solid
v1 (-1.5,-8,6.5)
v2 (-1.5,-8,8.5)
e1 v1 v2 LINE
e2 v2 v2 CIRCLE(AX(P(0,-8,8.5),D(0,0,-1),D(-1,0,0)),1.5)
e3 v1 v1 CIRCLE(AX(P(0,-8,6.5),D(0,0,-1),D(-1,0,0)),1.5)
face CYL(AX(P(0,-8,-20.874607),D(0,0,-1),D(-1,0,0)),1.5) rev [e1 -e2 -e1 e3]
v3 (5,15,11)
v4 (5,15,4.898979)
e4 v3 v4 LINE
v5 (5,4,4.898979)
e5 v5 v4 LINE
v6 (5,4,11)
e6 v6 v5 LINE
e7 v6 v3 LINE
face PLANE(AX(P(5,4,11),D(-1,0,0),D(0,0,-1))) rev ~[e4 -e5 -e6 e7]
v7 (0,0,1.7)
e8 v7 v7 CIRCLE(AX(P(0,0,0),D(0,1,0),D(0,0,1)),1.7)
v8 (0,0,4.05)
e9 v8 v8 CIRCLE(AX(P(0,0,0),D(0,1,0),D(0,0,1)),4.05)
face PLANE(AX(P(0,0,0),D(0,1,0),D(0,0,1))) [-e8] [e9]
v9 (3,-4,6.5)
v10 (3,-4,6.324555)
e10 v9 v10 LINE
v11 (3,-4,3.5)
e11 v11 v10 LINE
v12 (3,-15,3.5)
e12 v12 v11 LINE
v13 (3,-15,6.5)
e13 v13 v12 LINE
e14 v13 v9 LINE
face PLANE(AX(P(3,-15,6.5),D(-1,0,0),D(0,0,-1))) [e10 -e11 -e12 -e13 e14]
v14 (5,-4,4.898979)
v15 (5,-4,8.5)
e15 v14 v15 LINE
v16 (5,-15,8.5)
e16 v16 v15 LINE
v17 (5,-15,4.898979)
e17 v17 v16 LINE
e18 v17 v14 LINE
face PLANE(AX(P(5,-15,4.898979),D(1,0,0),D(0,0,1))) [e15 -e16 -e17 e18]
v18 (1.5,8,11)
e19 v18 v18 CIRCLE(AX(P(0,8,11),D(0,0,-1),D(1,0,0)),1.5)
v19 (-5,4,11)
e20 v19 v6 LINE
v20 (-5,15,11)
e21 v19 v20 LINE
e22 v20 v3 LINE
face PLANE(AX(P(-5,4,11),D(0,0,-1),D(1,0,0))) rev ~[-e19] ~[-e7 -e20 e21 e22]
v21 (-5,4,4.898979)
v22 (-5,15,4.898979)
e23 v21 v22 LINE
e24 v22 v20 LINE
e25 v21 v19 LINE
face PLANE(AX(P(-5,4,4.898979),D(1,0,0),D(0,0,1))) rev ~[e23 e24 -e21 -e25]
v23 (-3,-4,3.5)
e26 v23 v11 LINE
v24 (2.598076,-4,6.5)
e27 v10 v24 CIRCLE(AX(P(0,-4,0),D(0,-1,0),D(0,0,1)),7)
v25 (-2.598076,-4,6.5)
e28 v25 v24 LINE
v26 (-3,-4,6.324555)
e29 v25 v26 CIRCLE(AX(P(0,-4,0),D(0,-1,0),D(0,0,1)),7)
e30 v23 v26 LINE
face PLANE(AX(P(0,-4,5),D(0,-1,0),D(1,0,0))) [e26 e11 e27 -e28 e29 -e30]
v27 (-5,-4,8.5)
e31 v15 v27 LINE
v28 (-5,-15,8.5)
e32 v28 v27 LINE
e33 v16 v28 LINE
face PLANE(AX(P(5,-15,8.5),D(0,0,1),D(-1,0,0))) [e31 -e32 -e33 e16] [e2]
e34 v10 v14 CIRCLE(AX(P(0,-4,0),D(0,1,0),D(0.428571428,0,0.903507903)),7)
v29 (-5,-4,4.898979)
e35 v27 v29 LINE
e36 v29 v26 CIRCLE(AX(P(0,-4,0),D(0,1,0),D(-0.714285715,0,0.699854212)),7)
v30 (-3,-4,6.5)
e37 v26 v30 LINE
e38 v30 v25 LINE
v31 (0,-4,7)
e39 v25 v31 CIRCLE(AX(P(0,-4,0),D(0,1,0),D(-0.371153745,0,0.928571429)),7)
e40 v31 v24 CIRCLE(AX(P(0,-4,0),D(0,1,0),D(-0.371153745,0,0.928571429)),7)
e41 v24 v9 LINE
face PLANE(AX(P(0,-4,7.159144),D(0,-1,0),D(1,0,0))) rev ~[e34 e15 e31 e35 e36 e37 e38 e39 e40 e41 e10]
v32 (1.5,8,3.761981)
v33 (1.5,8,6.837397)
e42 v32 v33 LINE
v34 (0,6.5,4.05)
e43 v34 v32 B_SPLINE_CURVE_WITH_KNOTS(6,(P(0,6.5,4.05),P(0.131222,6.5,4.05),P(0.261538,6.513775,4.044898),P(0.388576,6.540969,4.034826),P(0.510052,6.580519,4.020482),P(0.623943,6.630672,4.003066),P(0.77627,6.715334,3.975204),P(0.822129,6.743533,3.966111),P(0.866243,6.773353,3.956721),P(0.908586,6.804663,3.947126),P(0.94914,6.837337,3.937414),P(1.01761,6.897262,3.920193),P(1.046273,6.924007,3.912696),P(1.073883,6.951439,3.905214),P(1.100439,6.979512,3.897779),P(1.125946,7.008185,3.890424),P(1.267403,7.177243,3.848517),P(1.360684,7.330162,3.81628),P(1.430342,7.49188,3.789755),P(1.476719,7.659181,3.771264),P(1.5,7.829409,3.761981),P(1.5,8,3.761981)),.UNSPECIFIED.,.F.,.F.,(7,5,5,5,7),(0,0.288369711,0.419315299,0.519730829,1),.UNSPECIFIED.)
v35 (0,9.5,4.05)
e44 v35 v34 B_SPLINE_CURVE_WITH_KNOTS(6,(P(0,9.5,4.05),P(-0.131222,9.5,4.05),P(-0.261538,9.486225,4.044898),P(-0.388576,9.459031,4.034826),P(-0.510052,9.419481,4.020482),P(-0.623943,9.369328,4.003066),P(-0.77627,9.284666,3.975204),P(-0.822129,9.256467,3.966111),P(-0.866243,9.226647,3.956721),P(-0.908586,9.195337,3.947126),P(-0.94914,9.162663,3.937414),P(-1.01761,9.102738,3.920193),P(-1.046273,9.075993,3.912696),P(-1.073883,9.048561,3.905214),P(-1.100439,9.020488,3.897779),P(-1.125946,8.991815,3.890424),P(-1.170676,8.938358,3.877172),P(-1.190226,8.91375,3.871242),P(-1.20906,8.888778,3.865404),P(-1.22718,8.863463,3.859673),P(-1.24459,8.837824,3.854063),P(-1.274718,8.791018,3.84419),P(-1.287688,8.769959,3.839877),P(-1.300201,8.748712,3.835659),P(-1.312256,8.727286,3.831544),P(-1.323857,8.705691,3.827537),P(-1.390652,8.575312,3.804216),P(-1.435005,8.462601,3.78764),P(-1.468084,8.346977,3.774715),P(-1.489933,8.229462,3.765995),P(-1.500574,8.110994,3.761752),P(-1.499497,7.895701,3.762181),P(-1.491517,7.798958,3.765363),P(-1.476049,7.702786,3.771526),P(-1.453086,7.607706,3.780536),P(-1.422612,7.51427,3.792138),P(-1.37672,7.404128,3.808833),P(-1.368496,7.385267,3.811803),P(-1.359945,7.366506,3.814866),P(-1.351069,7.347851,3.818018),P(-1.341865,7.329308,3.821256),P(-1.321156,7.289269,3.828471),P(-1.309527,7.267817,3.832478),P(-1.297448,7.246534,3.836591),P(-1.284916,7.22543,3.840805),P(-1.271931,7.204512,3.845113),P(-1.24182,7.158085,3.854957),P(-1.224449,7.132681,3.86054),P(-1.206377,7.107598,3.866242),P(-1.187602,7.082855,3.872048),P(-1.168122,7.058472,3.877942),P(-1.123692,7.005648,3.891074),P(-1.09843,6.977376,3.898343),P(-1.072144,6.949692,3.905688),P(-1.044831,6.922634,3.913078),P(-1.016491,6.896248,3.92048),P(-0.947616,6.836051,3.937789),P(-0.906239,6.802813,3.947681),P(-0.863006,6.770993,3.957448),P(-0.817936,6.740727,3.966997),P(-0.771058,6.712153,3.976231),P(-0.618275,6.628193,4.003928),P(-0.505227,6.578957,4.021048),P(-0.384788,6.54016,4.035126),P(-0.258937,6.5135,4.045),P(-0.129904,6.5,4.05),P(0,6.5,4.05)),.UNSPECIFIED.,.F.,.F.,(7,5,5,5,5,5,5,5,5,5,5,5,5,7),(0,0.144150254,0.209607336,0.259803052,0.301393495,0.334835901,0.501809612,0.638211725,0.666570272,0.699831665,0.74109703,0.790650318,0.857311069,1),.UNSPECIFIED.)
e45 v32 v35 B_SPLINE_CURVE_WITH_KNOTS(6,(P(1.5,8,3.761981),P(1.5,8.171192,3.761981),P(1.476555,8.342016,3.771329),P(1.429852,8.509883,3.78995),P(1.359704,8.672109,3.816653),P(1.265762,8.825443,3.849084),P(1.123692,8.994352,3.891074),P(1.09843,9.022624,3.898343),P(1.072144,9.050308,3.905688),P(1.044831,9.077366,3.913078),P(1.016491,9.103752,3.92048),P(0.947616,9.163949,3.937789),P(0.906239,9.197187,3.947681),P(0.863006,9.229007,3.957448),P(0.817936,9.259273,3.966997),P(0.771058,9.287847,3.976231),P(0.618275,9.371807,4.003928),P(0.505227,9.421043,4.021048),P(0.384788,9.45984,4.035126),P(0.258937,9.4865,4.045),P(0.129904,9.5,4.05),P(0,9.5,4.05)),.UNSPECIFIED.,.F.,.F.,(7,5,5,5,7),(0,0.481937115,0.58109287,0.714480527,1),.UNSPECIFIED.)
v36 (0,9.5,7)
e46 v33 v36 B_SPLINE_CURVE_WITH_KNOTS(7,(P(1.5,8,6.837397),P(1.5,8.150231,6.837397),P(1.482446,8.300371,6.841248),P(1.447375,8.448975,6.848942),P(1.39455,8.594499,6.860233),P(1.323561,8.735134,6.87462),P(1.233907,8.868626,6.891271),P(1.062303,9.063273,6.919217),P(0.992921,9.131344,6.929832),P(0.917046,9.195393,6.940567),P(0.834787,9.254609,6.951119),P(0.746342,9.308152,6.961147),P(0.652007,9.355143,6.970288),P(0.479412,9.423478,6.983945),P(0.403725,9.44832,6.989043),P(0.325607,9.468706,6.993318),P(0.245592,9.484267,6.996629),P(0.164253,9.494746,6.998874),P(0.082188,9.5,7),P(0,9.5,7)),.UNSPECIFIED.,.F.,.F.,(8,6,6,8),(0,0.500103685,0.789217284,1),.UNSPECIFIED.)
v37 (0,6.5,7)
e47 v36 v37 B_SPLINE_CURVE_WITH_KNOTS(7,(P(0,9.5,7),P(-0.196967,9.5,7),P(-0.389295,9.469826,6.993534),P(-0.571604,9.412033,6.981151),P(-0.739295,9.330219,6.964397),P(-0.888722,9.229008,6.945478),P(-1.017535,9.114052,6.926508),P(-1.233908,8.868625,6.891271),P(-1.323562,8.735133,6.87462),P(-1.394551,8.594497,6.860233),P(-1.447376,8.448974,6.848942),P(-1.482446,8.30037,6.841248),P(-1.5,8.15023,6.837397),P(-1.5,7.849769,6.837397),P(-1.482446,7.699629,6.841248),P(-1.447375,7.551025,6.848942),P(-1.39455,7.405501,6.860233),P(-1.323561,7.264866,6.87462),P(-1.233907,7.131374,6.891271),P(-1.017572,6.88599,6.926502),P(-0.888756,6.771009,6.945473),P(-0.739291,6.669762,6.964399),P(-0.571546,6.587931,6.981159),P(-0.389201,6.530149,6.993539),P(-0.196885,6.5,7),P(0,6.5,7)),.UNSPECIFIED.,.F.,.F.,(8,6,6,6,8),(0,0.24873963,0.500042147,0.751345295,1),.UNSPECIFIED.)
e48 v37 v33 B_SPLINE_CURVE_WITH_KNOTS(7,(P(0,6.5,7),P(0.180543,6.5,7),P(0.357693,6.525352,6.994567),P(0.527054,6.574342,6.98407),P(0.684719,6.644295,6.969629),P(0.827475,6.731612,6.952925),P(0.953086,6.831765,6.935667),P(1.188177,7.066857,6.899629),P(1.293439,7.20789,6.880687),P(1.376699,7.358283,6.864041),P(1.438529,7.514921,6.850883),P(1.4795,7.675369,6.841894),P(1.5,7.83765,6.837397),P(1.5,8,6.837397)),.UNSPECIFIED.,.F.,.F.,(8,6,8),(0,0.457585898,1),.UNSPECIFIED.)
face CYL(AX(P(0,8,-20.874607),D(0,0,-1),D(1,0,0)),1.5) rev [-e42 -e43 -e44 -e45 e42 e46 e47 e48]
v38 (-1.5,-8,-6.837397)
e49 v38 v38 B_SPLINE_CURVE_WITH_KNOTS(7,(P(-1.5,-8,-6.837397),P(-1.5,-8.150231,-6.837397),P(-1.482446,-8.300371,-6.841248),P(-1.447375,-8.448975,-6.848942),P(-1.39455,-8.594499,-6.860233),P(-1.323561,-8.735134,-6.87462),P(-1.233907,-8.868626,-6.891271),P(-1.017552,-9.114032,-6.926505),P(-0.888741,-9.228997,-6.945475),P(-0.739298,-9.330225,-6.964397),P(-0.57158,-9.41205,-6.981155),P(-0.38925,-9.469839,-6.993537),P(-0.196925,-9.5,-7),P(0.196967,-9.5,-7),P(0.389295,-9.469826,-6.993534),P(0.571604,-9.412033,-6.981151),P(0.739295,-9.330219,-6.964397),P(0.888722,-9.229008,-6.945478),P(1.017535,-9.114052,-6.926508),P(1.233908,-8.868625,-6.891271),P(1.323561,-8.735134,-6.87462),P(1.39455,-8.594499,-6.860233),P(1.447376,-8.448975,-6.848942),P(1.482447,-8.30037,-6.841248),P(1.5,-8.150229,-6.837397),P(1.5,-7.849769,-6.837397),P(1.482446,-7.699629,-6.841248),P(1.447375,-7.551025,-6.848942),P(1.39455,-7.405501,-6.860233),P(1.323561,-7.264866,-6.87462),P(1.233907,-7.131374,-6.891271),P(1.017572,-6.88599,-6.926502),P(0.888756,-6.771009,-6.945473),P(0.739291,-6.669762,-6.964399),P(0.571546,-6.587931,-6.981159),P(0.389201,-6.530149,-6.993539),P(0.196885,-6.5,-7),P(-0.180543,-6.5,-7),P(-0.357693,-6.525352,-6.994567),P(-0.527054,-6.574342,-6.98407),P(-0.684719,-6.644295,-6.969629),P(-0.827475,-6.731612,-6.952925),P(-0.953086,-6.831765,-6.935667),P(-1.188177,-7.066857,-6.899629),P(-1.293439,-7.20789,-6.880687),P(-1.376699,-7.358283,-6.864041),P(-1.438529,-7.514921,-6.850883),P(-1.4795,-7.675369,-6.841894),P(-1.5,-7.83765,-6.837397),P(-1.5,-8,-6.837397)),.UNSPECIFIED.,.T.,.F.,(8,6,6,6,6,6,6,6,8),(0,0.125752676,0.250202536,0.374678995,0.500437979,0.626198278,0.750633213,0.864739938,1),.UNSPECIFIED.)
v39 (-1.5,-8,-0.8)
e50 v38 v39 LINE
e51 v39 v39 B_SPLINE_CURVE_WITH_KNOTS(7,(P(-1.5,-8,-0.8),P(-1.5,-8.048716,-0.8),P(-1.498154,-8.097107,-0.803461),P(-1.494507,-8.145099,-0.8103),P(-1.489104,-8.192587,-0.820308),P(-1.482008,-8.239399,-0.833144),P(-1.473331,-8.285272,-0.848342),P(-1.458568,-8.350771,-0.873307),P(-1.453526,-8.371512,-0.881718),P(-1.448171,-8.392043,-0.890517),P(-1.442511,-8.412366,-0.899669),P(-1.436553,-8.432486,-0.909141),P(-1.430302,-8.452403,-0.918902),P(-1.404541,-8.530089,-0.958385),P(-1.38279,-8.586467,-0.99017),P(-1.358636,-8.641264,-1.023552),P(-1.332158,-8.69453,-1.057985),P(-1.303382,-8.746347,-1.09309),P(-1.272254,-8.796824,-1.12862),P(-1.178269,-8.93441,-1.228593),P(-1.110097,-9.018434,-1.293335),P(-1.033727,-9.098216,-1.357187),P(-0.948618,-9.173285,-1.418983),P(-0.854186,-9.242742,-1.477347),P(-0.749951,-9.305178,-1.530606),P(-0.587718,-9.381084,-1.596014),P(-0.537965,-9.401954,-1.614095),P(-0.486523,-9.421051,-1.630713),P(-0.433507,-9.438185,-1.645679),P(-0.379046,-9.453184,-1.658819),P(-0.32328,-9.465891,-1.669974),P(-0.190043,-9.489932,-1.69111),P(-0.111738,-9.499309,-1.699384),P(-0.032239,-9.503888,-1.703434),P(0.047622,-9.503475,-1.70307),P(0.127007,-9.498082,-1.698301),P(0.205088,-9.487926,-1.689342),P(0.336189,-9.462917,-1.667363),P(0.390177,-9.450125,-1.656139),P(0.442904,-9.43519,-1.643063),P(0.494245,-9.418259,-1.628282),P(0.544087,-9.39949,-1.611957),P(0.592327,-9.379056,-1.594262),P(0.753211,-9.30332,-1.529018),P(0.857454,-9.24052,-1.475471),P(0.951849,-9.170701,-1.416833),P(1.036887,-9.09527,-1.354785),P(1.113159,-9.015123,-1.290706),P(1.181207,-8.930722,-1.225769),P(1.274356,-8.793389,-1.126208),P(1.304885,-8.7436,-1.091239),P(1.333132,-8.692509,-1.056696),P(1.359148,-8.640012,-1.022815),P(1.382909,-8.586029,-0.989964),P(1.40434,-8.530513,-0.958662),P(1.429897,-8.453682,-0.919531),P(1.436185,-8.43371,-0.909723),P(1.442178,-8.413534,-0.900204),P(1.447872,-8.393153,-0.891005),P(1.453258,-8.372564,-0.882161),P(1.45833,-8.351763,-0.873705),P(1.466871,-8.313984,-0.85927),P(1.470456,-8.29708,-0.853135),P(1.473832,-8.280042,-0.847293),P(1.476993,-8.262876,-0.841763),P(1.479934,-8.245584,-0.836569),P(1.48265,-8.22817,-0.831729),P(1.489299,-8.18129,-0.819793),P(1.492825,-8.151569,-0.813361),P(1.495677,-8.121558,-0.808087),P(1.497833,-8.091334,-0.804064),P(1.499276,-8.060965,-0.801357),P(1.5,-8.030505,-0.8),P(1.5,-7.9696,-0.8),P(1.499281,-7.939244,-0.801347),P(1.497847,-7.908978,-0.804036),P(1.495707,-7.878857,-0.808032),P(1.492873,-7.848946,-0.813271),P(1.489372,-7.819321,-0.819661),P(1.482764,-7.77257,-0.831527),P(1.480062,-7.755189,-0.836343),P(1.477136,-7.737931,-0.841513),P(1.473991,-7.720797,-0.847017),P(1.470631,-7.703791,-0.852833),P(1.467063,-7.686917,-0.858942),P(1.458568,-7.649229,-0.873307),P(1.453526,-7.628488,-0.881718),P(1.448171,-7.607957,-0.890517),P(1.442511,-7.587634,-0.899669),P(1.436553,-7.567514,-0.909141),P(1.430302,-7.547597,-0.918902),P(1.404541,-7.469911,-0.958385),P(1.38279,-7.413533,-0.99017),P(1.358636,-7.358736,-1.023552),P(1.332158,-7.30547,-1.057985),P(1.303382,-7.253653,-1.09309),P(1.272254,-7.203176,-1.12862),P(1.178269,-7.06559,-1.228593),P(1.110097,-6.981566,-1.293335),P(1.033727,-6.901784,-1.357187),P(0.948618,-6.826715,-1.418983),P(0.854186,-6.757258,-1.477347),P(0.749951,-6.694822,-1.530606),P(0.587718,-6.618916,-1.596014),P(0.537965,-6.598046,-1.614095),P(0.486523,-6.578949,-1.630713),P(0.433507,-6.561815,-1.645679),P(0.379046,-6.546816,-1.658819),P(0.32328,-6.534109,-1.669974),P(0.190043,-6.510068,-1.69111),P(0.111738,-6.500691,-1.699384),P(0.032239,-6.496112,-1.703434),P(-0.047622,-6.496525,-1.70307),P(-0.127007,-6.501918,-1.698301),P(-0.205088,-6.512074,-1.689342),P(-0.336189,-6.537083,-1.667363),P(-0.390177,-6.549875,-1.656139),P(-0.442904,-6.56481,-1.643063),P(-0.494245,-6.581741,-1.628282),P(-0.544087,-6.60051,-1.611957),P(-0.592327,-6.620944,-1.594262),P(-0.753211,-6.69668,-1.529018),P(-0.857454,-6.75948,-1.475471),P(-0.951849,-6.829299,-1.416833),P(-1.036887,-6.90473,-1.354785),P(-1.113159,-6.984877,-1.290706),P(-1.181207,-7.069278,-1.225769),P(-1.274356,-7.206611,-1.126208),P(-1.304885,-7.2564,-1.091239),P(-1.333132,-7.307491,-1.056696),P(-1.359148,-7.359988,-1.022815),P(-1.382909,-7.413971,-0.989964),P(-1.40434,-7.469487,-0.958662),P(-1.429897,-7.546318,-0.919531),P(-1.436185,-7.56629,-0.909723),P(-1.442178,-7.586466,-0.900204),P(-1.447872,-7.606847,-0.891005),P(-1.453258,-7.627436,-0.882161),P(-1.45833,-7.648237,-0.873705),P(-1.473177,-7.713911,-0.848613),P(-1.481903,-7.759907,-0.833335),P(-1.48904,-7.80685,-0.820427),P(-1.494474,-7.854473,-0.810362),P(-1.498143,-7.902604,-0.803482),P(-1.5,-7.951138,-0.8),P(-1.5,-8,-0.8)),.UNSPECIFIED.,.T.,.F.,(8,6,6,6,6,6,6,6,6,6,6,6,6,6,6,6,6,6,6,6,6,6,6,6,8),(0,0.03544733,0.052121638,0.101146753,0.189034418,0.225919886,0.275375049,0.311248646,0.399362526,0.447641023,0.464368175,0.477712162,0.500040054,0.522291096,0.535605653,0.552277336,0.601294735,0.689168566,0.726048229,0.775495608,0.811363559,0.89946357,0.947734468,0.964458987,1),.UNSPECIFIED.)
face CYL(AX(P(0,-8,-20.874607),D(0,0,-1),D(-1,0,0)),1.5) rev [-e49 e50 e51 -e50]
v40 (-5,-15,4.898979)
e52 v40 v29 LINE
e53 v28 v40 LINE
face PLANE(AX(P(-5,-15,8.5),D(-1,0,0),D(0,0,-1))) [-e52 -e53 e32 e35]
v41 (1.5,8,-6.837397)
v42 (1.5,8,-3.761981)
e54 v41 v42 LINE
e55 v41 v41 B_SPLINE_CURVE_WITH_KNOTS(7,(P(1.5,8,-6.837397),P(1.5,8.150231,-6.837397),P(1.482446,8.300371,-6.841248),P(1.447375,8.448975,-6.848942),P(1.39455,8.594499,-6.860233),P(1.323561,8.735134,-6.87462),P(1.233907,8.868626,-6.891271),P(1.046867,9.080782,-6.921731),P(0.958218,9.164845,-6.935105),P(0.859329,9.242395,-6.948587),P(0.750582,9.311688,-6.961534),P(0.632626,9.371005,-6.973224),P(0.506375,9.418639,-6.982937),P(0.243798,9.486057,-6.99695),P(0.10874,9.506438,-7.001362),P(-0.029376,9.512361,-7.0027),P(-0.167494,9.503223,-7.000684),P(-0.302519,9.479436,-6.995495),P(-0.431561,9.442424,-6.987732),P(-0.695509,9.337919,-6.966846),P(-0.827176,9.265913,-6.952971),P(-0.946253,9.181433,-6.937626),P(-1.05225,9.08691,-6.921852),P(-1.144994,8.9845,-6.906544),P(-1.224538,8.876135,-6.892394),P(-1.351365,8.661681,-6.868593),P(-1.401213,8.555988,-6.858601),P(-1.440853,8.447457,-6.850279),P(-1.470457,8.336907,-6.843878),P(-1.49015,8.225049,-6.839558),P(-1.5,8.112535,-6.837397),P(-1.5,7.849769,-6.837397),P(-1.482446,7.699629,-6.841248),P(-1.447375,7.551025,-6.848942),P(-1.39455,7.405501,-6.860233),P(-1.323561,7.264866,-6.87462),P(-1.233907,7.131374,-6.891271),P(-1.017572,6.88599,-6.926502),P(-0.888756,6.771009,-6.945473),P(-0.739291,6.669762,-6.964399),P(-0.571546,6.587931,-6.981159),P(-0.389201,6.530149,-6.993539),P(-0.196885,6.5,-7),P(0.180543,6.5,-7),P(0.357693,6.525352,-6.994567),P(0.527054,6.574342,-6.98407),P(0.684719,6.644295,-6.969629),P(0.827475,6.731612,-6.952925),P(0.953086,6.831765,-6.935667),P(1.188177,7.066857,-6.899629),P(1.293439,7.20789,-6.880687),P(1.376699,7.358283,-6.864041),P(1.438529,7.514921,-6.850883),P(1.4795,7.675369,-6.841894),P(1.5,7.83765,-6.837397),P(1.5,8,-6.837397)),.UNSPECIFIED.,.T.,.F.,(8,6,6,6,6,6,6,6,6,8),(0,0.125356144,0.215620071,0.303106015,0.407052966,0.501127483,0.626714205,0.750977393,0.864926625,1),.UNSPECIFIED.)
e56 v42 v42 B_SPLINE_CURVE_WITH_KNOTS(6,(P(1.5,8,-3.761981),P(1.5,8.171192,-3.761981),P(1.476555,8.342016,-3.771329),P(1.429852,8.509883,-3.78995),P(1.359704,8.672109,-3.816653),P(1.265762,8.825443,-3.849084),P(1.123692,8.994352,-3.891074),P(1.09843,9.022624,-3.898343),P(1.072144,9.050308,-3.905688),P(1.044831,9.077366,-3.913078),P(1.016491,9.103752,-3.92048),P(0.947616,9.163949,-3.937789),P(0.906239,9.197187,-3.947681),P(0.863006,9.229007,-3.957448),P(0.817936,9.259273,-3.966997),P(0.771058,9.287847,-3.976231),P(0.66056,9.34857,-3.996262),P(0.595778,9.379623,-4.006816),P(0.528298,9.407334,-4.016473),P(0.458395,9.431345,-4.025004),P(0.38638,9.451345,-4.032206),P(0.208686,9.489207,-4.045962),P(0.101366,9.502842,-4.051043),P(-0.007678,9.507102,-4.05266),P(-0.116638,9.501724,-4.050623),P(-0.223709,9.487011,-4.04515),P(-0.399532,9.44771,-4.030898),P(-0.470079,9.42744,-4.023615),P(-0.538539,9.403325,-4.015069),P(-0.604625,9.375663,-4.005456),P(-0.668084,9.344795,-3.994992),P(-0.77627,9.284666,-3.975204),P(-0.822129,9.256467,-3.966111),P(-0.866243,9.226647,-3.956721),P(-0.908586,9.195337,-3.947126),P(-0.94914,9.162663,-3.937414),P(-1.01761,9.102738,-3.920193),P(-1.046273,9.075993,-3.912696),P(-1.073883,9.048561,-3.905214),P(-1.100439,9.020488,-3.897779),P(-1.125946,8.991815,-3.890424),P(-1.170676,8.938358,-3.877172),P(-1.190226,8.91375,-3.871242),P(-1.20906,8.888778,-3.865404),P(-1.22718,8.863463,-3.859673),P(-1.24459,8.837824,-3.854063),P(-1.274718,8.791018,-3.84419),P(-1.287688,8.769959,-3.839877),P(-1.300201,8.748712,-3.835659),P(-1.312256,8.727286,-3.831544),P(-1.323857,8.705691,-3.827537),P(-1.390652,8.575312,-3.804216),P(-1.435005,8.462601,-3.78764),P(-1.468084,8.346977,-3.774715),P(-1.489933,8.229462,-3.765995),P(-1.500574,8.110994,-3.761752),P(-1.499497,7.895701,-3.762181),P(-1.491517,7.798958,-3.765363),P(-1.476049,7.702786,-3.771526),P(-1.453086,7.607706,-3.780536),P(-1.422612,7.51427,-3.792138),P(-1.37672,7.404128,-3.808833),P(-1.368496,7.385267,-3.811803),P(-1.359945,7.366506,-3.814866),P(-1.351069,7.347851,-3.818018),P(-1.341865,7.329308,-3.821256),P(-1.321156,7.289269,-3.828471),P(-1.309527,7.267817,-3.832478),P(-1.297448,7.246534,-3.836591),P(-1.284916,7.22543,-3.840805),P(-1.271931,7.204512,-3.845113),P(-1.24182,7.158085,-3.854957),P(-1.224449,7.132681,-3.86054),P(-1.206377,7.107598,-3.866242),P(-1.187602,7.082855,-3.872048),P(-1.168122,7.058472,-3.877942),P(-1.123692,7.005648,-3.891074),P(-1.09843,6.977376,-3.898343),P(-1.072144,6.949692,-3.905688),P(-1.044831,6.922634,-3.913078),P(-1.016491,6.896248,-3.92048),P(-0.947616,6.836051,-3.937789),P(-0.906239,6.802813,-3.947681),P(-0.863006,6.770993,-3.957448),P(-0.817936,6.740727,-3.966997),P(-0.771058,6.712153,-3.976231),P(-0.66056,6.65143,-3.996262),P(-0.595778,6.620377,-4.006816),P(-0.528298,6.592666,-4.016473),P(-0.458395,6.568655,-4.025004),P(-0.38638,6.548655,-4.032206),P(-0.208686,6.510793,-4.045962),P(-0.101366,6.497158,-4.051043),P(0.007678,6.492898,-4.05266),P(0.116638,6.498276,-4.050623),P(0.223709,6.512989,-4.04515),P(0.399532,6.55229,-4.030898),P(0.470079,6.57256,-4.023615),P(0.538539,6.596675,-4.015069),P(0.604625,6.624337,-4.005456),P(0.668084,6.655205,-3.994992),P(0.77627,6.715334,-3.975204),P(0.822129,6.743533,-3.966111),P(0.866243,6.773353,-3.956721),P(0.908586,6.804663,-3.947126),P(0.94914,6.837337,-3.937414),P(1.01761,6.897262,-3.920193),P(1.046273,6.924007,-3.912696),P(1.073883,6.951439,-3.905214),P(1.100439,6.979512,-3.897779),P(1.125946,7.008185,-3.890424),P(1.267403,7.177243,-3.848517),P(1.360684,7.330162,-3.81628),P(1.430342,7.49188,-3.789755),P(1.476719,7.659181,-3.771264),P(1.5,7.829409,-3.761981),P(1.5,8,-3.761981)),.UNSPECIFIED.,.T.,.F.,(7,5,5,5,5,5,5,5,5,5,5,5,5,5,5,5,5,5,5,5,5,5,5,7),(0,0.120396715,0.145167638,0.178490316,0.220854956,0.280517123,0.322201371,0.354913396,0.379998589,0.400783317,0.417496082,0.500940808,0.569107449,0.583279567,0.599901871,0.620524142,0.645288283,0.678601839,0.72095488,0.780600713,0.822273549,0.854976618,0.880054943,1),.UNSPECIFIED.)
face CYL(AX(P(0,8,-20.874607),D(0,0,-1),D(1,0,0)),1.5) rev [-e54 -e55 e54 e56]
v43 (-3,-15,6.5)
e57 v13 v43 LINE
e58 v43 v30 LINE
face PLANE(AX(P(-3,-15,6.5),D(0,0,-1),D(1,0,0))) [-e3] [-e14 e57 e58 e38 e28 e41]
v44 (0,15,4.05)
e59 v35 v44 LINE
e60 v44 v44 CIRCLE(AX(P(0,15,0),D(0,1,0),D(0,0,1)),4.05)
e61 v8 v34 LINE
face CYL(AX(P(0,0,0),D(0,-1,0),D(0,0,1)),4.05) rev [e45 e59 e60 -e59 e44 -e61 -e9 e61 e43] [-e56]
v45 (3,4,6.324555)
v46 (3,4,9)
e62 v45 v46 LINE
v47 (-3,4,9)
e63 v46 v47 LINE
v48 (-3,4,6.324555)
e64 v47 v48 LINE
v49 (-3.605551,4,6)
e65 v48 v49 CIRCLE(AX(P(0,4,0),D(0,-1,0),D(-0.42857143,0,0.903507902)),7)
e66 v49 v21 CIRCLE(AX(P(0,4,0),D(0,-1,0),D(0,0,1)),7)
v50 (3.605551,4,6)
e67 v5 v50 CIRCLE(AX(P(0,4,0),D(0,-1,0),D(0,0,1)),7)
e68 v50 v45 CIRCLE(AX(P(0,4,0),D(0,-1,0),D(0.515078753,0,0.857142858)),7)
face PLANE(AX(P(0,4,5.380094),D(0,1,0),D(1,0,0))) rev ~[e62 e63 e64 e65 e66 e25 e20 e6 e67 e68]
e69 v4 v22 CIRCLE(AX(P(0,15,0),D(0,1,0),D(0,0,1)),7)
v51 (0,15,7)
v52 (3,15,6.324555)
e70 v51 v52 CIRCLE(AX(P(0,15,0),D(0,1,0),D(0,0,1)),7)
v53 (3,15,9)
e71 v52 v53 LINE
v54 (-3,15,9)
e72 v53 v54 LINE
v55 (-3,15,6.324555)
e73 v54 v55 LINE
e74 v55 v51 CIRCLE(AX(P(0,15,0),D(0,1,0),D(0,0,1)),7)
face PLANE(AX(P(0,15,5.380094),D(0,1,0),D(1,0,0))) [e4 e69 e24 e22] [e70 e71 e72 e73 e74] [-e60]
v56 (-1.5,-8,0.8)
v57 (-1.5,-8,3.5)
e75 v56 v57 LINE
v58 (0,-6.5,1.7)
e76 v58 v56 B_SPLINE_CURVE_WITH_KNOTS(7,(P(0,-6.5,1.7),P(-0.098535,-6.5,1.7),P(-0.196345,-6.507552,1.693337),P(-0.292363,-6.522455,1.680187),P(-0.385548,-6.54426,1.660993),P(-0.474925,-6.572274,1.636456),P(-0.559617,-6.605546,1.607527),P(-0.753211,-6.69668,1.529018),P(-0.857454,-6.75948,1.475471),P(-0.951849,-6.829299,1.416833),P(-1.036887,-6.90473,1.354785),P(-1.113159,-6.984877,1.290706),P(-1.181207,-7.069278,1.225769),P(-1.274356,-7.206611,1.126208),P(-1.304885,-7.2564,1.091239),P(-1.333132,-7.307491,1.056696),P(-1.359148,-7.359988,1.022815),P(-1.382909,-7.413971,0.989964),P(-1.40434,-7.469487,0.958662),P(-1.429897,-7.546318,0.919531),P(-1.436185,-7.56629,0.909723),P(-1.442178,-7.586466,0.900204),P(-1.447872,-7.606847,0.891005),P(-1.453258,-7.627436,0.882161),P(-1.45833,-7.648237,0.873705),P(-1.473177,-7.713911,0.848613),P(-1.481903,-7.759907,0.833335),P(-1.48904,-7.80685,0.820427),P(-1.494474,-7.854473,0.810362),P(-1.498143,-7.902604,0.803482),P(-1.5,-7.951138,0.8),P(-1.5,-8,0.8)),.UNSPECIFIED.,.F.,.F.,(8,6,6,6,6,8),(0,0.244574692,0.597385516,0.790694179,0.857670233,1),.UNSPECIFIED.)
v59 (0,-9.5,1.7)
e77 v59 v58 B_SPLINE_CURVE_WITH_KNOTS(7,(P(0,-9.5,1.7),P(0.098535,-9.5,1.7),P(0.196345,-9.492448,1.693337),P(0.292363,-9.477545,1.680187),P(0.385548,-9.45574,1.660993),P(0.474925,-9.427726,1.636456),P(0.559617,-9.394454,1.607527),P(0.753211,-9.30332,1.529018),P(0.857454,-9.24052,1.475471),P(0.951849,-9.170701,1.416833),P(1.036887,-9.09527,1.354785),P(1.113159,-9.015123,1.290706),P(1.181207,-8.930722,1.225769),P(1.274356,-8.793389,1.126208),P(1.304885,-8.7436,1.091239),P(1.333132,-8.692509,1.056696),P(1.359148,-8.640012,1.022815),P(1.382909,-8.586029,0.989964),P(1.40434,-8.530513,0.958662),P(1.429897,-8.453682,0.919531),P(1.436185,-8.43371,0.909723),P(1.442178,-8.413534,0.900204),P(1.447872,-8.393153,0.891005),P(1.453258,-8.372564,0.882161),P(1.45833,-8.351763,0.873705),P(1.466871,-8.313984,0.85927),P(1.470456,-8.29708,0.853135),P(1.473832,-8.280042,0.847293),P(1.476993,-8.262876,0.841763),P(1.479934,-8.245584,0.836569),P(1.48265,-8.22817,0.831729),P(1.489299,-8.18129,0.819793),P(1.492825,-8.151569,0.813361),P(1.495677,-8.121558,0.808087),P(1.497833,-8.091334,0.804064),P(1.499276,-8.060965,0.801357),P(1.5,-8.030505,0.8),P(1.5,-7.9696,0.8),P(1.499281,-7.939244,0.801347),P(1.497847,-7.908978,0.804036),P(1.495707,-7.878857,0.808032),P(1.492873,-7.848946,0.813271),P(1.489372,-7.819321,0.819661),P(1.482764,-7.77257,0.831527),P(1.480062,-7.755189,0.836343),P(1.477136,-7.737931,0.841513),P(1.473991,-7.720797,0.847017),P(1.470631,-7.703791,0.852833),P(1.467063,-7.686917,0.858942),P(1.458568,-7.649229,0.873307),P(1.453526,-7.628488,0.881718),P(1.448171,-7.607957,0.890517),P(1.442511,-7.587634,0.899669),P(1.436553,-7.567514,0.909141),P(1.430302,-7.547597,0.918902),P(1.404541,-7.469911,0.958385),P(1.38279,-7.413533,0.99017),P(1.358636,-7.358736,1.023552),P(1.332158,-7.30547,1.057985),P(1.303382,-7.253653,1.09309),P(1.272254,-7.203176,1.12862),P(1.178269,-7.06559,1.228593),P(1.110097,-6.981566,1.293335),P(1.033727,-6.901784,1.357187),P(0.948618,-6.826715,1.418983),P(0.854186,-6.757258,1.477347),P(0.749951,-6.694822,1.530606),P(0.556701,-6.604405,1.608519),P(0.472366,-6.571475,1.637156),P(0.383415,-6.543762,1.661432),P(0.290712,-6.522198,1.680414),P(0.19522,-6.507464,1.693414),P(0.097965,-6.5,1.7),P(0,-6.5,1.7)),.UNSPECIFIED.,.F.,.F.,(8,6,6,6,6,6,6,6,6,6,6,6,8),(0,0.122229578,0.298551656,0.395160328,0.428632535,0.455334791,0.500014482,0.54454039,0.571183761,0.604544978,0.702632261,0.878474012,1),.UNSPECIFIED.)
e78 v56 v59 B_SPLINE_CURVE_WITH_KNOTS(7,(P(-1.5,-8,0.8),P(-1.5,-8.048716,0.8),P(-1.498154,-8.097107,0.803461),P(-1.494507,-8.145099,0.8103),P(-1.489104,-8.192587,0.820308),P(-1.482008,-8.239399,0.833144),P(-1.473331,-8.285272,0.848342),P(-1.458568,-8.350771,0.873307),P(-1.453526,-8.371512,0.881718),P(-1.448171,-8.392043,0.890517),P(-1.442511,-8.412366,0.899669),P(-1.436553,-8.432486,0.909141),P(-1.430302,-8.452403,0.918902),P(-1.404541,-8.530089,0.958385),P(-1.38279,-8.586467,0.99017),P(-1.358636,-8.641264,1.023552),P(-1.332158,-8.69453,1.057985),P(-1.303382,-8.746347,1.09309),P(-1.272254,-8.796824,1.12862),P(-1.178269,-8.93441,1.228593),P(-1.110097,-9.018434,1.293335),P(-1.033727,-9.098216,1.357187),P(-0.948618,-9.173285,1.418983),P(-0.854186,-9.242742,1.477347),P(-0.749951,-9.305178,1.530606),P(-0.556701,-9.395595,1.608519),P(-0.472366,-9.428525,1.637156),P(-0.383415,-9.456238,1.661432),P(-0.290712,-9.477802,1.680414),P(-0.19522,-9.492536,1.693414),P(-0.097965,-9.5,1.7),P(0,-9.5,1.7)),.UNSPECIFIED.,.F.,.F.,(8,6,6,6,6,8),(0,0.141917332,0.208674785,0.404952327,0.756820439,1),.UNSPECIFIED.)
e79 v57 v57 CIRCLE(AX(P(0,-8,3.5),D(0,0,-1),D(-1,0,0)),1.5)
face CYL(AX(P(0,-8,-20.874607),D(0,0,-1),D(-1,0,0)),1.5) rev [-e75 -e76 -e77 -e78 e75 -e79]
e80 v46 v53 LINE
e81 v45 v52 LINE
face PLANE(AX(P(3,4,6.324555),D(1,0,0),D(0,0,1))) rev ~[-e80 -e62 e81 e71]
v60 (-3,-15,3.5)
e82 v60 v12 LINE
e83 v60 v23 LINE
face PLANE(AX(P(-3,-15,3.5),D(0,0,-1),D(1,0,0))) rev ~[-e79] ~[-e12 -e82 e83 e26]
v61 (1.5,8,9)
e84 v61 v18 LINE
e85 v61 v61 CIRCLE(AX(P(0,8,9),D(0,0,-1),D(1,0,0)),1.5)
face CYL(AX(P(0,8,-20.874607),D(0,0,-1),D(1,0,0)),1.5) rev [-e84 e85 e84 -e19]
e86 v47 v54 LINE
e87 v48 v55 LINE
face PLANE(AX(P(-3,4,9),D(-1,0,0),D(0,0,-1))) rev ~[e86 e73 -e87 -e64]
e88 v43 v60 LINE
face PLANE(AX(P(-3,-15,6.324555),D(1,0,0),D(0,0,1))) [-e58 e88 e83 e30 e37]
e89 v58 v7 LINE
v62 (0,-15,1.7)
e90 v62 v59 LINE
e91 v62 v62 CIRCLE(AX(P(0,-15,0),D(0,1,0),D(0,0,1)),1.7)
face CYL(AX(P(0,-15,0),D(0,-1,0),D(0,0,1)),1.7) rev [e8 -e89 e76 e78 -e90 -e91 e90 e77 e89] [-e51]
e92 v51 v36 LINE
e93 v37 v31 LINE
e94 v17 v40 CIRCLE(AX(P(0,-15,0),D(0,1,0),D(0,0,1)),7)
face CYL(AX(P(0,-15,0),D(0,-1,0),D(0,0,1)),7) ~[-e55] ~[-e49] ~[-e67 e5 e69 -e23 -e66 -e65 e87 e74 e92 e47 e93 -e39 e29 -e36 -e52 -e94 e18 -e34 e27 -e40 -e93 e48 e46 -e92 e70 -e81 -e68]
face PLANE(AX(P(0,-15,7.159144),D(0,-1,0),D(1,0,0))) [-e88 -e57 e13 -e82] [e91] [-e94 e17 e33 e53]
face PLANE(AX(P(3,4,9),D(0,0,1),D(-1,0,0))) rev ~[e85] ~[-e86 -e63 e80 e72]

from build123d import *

# Parameters (mm, degrees)
SKETCH1_R               = 7
SKETCH1_R_2             = 4.05
BOSS_EXTRUDE1_DEPTH     = 15
BOSS_EXTRUDE2_START     = -15
SKETCH1_3_R             = 7
SKETCH1_3_R_2           = 1.7
BOSS_EXTRUDE2_DEPTH     = 15
CUT_EXTRUDE2_DEPTH      = 11
BOSS_EXTRUDE3_DEPTH     = 11
BOSS_EXTRUDE4_START     = -11
SKETCH4_W               = 10
SKETCH4_H               = 6.101020514
BOSS_EXTRUDE4_DEPTH     = 11
CUT_EXTRUDE1_DEPTH      = 20.874606914
CUT_EXTRUDE1_DEPTH_BACK = 20.874606914
SKETCH2_R               = 1.5


with BuildPart() as part:
    # Sketch1 → Boss-Extrude1 (new body)
    with BuildSketch(Plane(origin=(0, 0, 0), x_dir=(1, 0, 0), z_dir=(0, 1, 0))):
        Circle(SKETCH1_R)
        Circle(SKETCH1_R_2, mode=Mode.SUBTRACT)
    extrude(amount=BOSS_EXTRUDE1_DEPTH)

    # Sketch1<3> → Boss-Extrude2 (add)
    with BuildSketch(Plane(origin=(0, 0, 0), x_dir=(1, 0, 0), z_dir=(0, 1, 0)).offset(BOSS_EXTRUDE2_START)):
        Circle(SKETCH1_3_R)
        Circle(SKETCH1_3_R_2, mode=Mode.SUBTRACT)
    extrude(amount=BOSS_EXTRUDE2_DEPTH)

    # Sketch3 → Cut-Extrude2 (cut)
    with BuildSketch(Plane.XZ.offset(15)):
        with BuildLine():
            Line((2.598076211, 6.5), (-2.598076211, 6.5))
            ThreePointArc((-2.598076211, 6.5), (-2.800412385, 6.415425978), (-3, 6.32455532))
            Line((-3, 6.32455532), (-3, 3.5))
            Line((-3, 3.5), (3, 3.5))
            Line((3, 3.5), (3, 6.32455532))
            ThreePointArc((3, 6.32455532), (2.800412385, 6.415425978), (2.598076211, 6.5))
        make_face()
    extrude(amount=-CUT_EXTRUDE2_DEPTH, mode=Mode.SUBTRACT)

    # Sketch3<3> → Boss-Extrude3 (add)
    with BuildSketch(Plane.XZ.offset(15)):
        with BuildLine():
            Line((-3, 6.32455532), (-3, 6.5))
            Line((-3, 6.5), (-2.598076211, 6.5))
            ThreePointArc((-2.598076211, 6.5), (0, 7), (2.598076211, 6.5))
            Line((2.598076211, 6.5), (3, 6.5))
            Line((3, 6.5), (3, 6.32455532))
            ThreePointArc((3, 6.32455532), (4.063012013, 5.700169593), (5, 4.898979486))
            Line((5, 4.898979486), (5, 8.5))
            Line((5, 8.5), (-5, 8.5))
            Line((-5, 8.5), (-5, 4.898979486))
            ThreePointArc((-5, 4.898979486), (-4.063012013, 5.700169593), (-3, 6.32455532))
        make_face()
    extrude(amount=-BOSS_EXTRUDE3_DEPTH)

    # Sketch4 → Boss-Extrude4 (add)
    with BuildSketch(Plane(origin=(0, 15, 0), x_dir=(1, 0, 0), z_dir=(0, 1, 0)).offset(BOSS_EXTRUDE4_START)):
        with Locations((0, -7.949489743)):
            Rectangle(SKETCH4_W, SKETCH4_H)
        with BuildLine():
            Line((-3.605551275, -6), (3.605551275, -6))
            ThreePointArc((3.605551275, -6), (3.306759887, -6.169711423), (3, -6.32455532))
            Line((3, -6.32455532), (3, -9))
            Line((3, -9), (-3, -9))
            Line((-3, -9), (-3, -6.32455532))
            ThreePointArc((-3, -6.32455532), (-3.306759887, -6.169711423), (-3.605551275, -6))
        make_face(mode=Mode.SUBTRACT)
    extrude(amount=BOSS_EXTRUDE4_DEPTH)

    # Sketch2 → Cut-Extrude1 (cut, two sides: drawn at the far end of the back side and taken through both)
    with BuildSketch(Plane.XY.offset(-CUT_EXTRUDE1_DEPTH_BACK)):
        with Locations((0, 8)):
            Circle(SKETCH2_R)
        with Locations((0, -8)):
            Circle(SKETCH2_R)
    extrude(amount=CUT_EXTRUDE1_DEPTH + CUT_EXTRUDE1_DEPTH_BACK, mode=Mode.SUBTRACT)


solid = part.part
